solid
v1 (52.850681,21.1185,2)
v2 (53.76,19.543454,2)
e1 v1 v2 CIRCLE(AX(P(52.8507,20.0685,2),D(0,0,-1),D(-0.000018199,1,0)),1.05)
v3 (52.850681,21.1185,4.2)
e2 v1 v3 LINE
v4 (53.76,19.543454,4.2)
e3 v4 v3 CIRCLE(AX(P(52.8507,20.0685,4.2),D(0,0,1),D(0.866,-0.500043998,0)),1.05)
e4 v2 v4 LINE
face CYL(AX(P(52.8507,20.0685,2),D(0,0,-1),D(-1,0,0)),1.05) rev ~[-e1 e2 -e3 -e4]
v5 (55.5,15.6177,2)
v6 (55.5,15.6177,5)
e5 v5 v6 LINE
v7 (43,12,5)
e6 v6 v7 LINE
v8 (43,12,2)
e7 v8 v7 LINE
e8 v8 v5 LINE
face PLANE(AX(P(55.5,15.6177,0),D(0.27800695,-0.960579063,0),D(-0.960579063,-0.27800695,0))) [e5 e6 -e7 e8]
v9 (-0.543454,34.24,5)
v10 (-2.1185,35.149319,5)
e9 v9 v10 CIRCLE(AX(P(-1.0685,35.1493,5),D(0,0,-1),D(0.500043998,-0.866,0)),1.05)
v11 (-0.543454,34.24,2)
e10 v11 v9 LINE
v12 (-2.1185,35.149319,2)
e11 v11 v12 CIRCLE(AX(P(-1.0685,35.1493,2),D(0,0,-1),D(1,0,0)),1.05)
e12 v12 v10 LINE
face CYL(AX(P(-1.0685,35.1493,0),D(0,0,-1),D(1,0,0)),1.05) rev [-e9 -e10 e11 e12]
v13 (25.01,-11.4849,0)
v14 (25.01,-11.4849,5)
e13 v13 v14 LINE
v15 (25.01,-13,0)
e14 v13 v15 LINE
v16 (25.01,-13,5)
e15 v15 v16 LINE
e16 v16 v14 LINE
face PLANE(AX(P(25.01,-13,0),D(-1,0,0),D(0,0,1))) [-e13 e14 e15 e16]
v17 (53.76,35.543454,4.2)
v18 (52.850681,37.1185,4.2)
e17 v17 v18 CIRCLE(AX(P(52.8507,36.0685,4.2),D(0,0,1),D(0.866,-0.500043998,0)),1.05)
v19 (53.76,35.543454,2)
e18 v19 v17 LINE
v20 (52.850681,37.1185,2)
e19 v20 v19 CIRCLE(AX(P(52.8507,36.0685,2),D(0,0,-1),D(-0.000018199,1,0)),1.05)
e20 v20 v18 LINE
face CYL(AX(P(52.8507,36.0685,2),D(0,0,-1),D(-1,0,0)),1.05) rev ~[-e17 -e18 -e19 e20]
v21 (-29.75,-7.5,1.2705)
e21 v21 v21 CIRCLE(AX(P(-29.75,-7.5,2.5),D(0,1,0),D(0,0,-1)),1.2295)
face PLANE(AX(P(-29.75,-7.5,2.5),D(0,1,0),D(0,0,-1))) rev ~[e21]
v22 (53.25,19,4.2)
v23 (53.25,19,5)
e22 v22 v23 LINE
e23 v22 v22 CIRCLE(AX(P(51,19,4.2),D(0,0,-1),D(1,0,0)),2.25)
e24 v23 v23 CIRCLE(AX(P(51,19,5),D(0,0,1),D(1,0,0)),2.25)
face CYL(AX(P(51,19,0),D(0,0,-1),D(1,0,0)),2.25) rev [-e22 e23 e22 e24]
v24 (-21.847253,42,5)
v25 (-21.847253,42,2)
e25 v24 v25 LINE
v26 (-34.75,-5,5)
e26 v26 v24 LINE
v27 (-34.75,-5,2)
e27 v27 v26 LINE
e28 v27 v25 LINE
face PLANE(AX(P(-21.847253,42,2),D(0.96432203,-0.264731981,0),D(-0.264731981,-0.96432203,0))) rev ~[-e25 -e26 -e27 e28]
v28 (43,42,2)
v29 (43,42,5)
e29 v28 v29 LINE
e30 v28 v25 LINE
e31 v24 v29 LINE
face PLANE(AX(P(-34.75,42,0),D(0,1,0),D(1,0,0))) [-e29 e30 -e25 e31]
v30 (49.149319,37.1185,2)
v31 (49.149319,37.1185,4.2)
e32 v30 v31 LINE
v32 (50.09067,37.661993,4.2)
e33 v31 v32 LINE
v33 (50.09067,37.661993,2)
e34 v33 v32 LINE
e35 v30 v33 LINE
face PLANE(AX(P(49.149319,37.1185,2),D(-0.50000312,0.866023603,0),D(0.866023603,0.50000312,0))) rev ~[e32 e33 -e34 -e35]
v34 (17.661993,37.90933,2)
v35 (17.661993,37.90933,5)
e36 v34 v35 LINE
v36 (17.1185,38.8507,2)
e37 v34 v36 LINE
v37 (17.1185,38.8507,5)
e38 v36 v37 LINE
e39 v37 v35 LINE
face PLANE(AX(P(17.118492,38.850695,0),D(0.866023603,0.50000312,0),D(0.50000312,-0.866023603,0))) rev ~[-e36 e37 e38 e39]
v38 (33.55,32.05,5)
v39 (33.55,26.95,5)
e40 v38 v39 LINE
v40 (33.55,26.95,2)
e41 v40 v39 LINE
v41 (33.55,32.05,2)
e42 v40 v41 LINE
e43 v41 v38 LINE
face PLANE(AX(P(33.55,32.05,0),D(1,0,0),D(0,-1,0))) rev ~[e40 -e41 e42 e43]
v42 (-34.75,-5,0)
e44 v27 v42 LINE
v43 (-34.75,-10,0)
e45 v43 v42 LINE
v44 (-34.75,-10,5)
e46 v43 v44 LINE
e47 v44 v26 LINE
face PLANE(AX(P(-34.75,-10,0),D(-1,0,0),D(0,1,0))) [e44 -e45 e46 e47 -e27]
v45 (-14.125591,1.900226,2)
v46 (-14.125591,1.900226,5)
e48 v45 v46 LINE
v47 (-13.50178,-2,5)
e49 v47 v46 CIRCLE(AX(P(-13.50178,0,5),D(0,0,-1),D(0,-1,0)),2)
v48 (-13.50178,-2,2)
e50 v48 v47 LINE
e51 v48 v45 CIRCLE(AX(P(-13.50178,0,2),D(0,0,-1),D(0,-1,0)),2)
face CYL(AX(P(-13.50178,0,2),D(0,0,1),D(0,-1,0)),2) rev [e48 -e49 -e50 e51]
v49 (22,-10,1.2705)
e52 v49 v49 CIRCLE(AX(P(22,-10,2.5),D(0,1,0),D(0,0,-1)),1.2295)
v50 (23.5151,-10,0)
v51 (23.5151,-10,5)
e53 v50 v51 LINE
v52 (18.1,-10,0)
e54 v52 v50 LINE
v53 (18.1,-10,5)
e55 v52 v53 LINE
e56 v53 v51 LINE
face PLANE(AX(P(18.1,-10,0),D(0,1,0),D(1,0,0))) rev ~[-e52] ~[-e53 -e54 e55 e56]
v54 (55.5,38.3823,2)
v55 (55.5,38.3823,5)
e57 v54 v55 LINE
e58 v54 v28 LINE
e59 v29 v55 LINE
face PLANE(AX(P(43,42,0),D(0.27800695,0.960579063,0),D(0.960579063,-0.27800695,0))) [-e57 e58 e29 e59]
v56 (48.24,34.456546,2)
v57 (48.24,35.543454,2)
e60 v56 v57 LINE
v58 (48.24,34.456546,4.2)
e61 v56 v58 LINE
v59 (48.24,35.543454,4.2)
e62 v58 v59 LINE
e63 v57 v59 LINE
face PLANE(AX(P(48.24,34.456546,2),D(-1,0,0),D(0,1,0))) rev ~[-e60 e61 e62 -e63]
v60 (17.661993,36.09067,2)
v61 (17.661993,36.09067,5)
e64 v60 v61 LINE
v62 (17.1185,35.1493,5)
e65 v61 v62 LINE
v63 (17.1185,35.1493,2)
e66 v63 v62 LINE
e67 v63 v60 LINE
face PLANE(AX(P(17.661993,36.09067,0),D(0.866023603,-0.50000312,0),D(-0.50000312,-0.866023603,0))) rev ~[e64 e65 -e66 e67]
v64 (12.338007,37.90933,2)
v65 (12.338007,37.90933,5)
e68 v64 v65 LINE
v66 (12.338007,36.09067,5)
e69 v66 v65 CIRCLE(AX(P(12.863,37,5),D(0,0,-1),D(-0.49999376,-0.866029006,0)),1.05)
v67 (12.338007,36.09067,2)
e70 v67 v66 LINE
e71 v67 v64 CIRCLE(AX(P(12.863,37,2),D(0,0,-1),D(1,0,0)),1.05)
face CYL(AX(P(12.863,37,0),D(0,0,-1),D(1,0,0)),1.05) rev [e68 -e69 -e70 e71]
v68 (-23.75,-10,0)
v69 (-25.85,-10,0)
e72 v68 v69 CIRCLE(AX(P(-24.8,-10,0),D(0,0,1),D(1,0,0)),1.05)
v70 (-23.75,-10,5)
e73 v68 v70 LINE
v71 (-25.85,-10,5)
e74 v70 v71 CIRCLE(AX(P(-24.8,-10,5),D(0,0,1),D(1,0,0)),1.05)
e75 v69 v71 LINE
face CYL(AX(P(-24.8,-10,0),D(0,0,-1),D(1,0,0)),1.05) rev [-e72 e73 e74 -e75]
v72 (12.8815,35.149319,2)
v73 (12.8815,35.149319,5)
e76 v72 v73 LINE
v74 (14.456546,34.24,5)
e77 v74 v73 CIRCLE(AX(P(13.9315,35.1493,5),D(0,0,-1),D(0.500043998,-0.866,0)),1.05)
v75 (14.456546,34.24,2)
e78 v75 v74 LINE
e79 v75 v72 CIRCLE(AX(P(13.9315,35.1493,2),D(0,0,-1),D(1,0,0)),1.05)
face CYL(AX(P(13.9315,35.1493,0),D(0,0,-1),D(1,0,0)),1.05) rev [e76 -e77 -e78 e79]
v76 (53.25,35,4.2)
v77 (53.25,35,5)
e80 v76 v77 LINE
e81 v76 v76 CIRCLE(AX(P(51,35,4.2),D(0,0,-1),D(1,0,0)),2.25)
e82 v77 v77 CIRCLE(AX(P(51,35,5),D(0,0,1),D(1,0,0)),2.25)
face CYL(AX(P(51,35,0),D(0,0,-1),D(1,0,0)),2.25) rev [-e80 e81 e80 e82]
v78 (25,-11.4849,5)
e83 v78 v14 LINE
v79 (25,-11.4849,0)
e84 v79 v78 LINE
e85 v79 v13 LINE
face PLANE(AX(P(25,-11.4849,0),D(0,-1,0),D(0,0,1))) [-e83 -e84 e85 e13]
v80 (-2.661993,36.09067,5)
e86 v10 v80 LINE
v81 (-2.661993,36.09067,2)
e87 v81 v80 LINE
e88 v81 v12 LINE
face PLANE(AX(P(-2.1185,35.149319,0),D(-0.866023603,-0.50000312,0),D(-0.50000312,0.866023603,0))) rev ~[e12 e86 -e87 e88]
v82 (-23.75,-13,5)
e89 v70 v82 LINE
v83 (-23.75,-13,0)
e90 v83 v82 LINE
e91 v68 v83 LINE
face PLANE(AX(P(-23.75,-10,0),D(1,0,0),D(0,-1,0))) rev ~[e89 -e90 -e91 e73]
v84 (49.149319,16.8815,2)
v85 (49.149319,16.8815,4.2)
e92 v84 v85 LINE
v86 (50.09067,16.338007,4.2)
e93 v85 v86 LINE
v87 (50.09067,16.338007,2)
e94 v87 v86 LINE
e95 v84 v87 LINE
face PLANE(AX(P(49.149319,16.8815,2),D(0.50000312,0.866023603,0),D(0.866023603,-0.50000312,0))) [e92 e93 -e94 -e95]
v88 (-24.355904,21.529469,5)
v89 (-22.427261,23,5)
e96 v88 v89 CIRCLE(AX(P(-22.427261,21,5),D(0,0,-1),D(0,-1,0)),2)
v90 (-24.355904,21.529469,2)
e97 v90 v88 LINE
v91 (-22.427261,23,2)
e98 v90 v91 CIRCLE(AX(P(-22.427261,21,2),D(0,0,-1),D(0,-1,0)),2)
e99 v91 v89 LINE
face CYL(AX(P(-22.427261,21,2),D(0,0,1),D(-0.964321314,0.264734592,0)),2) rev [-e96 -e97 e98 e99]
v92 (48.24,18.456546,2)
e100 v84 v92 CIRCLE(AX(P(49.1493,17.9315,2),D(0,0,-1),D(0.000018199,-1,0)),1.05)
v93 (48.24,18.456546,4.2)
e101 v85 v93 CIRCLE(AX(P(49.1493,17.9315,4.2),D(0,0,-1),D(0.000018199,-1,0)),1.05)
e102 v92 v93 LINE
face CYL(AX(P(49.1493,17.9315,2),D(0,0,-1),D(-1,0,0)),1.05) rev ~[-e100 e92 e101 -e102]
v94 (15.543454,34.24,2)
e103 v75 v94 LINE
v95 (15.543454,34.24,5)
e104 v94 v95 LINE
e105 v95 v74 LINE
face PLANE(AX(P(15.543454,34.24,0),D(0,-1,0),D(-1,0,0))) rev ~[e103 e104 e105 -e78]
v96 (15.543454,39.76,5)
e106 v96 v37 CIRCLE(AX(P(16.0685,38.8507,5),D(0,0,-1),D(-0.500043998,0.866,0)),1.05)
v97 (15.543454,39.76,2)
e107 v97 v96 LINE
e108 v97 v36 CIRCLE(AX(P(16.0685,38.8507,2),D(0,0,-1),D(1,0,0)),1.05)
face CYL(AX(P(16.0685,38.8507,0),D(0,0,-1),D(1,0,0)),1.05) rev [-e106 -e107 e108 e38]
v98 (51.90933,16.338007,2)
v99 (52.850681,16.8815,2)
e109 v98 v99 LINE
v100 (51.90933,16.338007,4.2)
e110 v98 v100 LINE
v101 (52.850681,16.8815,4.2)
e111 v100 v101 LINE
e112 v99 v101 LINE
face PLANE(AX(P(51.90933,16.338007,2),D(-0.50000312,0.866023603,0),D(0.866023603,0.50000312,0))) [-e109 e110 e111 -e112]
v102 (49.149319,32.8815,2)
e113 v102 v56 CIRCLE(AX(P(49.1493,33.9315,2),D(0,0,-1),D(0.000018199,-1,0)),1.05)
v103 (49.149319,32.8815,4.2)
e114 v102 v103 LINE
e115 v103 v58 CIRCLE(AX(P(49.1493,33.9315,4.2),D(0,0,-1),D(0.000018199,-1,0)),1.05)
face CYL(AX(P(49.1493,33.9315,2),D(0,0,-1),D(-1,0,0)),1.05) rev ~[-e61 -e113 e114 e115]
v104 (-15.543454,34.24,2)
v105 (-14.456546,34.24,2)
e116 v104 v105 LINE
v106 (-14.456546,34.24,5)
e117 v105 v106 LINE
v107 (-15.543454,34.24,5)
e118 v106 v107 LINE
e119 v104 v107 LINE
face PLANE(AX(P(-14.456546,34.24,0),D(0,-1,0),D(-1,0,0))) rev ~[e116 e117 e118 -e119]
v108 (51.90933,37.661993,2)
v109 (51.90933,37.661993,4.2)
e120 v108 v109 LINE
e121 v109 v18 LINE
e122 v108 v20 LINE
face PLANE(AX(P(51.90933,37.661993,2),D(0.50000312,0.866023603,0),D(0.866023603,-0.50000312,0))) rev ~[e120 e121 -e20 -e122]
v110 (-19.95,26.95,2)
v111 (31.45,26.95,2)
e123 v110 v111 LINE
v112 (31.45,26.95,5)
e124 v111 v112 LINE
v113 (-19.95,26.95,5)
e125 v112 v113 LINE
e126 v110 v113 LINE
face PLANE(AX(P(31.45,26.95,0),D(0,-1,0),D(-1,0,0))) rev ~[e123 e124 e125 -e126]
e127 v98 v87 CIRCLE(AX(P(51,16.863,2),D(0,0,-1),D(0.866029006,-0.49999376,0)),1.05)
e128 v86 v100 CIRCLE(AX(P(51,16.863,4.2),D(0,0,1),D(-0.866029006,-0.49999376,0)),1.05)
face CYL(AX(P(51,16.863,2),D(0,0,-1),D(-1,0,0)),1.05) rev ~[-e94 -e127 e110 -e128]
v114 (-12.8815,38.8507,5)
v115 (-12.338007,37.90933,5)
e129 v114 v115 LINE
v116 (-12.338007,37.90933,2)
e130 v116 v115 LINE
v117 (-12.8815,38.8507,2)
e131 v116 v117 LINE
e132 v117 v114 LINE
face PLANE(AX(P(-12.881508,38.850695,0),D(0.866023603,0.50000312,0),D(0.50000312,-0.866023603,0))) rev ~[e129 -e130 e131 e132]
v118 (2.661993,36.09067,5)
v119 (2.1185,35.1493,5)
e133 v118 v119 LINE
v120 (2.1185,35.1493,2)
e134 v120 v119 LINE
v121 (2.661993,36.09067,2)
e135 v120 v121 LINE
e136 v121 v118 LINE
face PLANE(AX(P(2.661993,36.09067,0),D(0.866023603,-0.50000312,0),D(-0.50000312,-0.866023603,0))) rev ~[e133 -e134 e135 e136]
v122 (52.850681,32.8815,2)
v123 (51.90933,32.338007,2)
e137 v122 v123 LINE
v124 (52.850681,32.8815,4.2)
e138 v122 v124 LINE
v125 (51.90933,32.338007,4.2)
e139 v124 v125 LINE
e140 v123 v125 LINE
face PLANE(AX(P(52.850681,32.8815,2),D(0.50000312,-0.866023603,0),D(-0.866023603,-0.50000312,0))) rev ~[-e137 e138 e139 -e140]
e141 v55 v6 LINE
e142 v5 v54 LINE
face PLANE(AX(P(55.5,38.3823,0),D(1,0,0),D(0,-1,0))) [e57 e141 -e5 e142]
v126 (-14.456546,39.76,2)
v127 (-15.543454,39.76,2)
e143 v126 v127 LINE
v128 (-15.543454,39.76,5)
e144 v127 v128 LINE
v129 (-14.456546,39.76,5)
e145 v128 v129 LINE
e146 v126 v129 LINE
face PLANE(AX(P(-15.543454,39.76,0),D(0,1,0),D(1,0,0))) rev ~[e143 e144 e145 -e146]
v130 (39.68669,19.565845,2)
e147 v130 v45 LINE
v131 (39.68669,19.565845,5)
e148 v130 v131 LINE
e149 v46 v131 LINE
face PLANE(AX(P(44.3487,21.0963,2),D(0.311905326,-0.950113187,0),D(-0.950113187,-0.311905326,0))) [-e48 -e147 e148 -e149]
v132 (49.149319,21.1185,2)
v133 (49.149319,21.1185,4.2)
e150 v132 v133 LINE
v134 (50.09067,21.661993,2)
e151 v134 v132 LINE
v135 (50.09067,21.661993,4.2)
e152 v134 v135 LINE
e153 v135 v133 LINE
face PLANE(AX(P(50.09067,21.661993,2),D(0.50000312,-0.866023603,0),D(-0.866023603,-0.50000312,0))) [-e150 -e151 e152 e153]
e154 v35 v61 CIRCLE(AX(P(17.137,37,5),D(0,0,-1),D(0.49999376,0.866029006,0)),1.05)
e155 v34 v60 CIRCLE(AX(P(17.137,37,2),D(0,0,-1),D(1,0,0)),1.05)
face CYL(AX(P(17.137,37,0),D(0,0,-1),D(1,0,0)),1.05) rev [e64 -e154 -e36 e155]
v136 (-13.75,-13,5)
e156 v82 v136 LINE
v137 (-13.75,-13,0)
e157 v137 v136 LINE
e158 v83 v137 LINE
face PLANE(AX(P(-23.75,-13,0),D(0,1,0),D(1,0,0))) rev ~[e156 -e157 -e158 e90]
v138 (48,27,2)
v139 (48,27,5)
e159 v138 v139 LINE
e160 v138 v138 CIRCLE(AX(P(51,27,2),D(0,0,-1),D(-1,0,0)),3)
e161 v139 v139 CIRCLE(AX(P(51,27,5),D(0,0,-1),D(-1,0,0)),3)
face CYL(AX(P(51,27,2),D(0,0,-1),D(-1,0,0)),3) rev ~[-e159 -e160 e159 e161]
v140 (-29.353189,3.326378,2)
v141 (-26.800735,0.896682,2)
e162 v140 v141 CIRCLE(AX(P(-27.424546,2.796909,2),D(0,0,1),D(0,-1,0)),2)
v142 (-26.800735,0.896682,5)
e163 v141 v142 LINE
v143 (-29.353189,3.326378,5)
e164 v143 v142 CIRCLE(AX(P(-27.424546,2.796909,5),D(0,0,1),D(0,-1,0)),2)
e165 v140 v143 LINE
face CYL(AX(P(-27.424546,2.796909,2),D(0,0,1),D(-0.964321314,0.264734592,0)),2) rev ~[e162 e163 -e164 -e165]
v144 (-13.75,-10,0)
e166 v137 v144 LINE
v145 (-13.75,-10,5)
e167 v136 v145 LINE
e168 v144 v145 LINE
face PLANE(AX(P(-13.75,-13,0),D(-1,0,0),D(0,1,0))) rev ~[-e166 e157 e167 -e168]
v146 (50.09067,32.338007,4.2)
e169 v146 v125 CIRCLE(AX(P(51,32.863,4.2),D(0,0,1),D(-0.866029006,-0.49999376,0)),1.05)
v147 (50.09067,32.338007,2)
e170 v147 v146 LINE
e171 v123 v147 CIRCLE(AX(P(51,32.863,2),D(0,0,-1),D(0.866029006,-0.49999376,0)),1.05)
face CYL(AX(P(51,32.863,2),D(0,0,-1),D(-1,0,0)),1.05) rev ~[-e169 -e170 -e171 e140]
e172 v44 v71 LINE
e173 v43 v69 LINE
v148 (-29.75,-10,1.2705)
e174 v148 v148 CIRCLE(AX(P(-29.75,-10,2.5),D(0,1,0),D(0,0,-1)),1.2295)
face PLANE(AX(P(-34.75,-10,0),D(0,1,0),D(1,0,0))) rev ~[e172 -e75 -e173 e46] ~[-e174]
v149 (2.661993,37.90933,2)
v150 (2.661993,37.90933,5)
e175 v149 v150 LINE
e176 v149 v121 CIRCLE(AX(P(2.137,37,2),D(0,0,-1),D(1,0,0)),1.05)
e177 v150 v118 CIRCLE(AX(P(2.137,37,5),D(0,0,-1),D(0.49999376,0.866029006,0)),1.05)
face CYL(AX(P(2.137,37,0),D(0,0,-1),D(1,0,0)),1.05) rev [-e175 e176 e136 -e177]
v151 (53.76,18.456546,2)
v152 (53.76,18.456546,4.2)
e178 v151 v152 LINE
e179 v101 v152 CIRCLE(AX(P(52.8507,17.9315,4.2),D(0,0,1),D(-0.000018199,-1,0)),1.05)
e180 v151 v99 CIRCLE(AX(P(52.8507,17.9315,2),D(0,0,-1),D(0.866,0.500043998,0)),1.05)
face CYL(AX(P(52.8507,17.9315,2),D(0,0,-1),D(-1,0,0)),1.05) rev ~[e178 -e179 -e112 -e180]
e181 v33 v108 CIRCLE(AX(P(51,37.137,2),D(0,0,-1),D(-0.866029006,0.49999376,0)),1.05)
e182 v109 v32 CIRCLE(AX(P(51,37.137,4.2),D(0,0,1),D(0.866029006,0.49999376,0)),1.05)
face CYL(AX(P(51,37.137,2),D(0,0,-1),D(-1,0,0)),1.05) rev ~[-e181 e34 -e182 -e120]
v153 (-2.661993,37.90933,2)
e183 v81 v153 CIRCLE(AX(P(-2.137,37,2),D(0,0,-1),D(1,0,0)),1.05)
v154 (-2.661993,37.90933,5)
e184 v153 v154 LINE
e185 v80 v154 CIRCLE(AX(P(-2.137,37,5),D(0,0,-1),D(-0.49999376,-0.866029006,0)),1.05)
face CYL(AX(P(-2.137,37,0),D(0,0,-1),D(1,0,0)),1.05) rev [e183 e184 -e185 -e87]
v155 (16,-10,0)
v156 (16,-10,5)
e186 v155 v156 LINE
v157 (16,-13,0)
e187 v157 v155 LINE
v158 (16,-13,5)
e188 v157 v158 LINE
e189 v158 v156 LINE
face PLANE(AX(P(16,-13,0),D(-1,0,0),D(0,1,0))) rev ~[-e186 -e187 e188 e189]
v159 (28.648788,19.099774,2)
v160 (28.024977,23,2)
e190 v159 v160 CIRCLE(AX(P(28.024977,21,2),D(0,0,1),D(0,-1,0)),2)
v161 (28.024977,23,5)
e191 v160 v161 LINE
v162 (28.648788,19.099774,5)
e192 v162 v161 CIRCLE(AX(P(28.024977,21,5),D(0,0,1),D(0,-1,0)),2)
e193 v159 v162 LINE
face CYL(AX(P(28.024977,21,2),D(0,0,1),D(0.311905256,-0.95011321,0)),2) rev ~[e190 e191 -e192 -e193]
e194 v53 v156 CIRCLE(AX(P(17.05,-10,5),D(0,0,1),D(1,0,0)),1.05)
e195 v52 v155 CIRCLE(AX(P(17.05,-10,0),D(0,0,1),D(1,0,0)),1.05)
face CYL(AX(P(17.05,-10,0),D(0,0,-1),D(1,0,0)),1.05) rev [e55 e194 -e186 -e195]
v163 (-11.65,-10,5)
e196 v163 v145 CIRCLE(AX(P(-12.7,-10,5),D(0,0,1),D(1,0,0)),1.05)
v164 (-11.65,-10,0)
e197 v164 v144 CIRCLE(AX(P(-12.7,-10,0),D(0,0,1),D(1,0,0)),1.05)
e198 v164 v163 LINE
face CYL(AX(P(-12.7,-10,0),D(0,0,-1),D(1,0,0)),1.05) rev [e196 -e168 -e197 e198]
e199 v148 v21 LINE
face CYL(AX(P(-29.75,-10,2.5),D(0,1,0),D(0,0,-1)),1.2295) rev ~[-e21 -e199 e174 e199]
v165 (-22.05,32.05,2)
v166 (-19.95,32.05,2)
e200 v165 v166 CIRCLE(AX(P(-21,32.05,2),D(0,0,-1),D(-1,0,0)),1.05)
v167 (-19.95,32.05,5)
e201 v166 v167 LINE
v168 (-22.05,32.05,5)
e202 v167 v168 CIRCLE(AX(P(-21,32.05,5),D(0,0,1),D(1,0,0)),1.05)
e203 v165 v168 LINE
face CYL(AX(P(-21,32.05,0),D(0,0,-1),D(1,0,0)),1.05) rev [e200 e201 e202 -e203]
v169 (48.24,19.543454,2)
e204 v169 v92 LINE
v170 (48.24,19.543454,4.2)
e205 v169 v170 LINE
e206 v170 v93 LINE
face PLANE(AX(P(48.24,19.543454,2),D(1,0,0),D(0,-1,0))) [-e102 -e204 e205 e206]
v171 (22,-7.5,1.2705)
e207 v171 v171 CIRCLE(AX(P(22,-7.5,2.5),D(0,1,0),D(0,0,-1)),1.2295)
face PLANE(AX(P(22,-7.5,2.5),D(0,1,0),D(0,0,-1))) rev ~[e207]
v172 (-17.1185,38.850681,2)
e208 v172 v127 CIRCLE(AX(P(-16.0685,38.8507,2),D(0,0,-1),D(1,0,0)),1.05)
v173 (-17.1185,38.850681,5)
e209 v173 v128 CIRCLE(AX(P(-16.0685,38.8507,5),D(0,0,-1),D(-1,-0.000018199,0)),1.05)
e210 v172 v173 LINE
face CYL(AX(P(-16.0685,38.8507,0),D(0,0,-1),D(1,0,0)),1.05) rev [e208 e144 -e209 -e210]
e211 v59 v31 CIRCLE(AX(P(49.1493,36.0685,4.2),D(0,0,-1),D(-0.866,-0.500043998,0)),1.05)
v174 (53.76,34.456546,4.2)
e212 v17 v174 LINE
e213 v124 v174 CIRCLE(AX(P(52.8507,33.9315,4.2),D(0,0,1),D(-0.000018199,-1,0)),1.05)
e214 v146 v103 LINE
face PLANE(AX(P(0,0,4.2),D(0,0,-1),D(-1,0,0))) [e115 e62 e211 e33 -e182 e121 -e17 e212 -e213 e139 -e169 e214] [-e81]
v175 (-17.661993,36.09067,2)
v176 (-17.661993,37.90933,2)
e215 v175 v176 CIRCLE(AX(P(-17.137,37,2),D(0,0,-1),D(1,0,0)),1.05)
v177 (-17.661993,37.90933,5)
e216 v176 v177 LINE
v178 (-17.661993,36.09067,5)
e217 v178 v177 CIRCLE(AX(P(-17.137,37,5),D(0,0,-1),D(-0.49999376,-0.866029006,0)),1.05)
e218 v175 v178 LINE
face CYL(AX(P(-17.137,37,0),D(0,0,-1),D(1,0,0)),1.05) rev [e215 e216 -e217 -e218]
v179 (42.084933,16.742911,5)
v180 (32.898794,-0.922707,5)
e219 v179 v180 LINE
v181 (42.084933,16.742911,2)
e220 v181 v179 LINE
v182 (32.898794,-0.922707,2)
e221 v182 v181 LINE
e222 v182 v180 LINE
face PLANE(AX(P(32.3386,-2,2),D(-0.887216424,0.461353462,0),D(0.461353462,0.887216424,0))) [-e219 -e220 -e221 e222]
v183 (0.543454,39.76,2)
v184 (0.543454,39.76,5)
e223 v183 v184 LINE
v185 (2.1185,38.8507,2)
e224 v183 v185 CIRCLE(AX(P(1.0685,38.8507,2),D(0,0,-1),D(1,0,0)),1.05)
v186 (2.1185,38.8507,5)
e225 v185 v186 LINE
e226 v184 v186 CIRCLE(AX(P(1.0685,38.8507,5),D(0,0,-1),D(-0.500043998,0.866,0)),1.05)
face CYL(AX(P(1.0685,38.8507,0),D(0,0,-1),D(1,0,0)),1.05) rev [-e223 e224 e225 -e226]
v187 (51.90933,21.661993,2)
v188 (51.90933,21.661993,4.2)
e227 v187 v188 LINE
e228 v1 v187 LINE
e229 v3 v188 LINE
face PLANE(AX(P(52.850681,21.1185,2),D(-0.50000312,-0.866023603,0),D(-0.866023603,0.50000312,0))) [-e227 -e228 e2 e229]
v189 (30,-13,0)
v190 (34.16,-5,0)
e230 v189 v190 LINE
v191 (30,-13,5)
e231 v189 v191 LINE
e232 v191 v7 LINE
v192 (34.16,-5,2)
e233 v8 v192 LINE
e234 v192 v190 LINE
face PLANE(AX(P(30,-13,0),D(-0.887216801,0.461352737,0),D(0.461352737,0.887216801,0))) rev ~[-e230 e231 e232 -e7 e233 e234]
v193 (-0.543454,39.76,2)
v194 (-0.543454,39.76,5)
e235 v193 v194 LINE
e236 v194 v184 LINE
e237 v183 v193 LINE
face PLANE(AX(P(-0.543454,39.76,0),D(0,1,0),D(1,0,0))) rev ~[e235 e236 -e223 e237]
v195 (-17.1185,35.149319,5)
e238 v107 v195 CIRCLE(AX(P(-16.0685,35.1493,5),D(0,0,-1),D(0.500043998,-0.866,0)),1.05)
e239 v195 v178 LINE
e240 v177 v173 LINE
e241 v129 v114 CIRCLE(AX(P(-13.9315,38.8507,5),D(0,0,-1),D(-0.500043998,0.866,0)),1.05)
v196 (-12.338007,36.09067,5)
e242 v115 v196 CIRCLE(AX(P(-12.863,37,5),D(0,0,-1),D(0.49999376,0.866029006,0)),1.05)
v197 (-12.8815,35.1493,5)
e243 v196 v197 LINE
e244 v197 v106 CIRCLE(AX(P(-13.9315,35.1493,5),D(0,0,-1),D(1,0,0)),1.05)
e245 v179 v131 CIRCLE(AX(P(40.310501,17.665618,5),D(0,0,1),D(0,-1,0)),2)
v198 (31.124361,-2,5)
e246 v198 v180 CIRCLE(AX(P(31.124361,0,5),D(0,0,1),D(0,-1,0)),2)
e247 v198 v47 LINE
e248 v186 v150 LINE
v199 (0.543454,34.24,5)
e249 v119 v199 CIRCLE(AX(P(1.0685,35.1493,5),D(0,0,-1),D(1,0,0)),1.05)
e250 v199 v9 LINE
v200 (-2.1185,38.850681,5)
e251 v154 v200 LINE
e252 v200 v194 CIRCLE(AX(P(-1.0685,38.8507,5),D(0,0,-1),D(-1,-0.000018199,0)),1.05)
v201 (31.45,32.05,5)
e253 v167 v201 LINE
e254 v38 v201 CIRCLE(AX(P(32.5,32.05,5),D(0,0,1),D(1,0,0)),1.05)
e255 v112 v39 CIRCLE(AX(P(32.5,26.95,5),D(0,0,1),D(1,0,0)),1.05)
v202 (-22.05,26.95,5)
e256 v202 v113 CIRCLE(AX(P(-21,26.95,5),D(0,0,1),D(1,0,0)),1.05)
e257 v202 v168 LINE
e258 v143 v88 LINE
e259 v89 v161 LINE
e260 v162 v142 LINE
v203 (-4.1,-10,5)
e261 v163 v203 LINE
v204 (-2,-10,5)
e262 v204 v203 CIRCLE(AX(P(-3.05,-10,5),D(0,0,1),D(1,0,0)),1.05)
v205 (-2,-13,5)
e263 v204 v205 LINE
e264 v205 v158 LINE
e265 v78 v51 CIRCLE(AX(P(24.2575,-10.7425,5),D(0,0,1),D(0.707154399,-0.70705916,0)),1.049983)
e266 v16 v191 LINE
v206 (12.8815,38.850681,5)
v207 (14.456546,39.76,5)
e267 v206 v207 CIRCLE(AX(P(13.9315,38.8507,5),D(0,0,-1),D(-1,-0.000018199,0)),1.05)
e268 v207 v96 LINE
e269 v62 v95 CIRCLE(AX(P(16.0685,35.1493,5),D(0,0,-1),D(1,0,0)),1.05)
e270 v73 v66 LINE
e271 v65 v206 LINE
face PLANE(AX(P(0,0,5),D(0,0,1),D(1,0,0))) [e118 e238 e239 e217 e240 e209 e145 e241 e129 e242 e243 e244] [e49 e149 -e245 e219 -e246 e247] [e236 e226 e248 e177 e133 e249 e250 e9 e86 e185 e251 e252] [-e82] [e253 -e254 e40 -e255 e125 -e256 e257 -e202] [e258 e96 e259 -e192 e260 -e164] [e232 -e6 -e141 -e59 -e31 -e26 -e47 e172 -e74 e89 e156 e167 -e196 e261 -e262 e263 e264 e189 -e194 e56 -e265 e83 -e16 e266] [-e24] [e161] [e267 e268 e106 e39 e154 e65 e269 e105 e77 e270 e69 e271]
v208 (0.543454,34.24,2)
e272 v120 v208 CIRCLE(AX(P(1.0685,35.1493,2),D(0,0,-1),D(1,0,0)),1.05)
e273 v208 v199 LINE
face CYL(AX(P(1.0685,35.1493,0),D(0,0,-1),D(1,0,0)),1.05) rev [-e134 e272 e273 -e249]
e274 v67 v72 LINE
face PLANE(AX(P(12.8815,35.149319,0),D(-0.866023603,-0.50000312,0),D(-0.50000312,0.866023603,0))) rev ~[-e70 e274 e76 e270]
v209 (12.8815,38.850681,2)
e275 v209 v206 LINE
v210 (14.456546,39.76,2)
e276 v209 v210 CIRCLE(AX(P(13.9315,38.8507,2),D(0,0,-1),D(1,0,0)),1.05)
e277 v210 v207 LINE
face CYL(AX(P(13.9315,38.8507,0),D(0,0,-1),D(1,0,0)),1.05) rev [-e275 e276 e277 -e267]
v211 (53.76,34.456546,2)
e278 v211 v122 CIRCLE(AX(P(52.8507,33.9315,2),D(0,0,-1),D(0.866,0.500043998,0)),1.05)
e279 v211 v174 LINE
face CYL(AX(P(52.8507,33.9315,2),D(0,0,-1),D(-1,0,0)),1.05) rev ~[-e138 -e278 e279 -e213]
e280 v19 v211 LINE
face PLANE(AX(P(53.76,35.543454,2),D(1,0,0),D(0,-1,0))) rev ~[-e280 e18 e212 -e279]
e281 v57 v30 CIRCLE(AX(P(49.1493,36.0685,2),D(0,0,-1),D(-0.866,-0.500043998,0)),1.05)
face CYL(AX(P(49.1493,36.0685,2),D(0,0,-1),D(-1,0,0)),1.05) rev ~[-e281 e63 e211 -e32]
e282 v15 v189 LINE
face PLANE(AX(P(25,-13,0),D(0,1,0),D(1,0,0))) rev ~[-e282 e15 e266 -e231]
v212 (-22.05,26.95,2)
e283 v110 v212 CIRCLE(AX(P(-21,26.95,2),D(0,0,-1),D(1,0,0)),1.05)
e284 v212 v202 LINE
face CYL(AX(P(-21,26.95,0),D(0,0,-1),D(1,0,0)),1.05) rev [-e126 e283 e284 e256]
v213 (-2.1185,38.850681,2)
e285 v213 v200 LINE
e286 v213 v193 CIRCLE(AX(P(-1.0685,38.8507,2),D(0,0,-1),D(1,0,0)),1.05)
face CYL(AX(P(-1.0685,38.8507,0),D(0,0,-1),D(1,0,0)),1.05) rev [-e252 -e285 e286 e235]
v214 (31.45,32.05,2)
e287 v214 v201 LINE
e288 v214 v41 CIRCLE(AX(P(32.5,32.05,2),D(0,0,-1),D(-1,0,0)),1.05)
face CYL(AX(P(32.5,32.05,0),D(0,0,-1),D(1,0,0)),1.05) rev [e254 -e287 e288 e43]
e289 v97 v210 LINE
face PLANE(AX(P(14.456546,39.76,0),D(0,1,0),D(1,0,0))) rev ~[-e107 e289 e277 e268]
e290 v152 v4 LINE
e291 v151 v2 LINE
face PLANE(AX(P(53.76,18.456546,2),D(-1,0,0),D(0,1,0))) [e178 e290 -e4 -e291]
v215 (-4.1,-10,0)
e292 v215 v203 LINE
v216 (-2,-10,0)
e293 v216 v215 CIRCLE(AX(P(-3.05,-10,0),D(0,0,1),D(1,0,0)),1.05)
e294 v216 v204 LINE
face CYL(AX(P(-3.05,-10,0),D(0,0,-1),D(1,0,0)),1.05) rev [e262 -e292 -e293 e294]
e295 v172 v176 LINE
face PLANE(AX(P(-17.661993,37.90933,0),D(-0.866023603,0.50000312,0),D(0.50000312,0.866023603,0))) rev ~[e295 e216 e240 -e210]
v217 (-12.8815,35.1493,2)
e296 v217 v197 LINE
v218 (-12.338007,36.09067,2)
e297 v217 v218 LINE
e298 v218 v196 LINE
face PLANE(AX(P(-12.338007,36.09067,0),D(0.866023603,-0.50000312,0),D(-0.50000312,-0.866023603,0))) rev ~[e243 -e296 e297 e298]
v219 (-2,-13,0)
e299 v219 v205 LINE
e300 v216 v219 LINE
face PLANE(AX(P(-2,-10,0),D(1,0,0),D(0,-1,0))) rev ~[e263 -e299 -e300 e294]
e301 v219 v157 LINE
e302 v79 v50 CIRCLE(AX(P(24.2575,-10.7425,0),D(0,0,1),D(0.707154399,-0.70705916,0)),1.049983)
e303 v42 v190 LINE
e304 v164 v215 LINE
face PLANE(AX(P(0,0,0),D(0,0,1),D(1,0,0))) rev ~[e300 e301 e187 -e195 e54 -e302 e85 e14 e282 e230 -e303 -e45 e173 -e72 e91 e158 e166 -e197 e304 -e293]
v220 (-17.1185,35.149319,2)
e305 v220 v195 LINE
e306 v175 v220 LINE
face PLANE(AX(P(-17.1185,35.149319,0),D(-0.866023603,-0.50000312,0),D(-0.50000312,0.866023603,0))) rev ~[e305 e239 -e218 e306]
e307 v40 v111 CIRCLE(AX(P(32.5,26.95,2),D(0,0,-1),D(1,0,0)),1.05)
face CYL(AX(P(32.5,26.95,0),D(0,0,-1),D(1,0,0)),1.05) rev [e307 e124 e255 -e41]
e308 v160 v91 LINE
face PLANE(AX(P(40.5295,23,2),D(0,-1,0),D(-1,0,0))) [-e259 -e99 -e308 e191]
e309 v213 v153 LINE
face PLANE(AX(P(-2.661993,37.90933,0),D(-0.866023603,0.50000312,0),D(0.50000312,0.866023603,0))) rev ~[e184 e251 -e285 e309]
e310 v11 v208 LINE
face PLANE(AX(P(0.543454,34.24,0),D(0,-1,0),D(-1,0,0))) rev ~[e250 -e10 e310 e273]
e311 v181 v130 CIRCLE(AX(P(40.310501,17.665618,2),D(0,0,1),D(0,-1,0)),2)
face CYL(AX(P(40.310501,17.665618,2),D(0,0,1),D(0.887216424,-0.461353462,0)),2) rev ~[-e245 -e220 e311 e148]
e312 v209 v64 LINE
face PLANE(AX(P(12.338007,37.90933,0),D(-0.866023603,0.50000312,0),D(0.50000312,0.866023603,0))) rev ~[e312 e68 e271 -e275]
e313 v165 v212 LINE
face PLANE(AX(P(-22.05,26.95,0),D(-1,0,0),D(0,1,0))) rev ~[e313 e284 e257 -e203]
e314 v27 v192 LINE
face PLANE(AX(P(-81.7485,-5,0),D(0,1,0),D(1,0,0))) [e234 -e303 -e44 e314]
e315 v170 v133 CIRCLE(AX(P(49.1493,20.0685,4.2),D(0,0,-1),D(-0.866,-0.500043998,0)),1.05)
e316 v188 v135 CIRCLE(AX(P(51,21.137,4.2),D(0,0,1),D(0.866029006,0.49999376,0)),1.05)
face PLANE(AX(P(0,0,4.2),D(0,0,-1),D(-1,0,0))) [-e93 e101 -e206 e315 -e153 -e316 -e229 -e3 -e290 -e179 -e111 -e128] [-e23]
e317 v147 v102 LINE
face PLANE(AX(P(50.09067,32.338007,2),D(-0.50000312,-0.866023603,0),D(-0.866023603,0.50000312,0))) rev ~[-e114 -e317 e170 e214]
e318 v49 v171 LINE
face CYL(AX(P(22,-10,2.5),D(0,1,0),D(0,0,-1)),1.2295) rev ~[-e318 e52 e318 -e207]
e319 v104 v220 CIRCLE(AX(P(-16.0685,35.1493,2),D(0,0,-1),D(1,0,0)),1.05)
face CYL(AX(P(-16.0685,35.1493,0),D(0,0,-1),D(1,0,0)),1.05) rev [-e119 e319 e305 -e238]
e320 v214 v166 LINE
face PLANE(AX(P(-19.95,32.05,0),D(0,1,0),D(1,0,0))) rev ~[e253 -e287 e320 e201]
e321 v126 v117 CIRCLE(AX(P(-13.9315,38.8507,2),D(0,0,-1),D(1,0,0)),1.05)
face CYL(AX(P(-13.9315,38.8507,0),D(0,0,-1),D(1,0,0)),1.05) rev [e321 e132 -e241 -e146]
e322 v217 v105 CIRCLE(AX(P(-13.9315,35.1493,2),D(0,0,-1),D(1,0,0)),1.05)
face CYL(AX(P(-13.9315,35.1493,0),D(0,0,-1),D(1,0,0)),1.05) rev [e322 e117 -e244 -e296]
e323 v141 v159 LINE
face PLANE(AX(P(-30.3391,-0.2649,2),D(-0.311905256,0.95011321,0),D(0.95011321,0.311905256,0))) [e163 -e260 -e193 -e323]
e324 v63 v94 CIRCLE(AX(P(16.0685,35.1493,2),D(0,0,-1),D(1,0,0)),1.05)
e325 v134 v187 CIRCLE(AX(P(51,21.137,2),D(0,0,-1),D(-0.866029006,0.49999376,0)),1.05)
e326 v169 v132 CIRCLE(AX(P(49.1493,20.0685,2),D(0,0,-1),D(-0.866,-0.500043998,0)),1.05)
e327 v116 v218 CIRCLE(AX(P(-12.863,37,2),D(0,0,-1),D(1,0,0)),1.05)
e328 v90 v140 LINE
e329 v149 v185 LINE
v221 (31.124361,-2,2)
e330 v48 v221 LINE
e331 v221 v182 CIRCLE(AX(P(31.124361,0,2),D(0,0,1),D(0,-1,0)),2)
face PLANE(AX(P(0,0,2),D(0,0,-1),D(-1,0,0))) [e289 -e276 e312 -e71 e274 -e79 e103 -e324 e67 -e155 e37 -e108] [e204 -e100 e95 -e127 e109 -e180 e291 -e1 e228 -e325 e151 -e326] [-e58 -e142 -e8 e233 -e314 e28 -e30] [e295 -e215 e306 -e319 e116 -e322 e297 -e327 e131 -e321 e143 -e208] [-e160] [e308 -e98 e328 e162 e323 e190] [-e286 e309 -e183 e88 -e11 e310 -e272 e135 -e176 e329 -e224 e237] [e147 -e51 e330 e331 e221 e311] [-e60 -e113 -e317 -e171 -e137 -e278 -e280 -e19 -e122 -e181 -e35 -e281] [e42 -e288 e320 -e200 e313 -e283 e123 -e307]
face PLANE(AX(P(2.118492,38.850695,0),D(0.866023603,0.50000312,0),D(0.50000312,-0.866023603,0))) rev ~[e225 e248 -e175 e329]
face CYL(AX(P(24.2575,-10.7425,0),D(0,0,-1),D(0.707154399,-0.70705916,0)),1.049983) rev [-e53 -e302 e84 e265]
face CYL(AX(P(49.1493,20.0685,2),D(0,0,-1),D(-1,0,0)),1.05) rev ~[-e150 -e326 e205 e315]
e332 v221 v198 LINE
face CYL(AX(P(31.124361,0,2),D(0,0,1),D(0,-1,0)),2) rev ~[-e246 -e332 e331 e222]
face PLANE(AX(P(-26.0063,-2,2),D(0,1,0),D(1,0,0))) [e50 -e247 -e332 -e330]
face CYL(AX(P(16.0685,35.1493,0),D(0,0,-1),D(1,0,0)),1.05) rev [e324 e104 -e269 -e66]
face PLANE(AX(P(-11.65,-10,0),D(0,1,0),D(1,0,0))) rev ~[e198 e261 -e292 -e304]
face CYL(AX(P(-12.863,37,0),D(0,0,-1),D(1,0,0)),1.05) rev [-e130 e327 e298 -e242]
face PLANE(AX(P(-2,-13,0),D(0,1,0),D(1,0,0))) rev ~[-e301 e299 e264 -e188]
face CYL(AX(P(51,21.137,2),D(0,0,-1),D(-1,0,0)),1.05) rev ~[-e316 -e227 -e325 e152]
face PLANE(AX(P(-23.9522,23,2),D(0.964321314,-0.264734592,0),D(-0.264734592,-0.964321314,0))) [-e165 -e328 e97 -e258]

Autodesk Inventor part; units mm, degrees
ref_plane "YZ Plane" through (0, 0, 0) normal (1, 0, 0) x (0, 1, 0)
ref_plane "XZ Plane" through (0, 0, 0) normal (0, 1, 0) x (-1, 0, 0)
ref_plane "XY Plane" through (0, 0, 0) normal (0, 0, 1) x (1, 0, 0)
sketch "スケッチ1" plane through (0, 0, 0) normal (0, 0, 1) x (1, 0, 0)
  line L0 (-34.75, -10) -> (23.5151, -10) construction
  arc A0 (25, -11.4849) -> (23.5151, -10) centre (24.2575, -10.7425) ccw
  line L1 (25, -11.4849) -> (25, -13)
  line L2 (25, -13) -> (30, -13)
  line L3 (23.5151, -10) -> (25, -10) construction
  line L4 (25, -10) -> (25, -11.4849) construction
  line L5 (-34.75, -10) -> (-34.75, 42)
  line L6 (-34.75, 42) -> (43, 42)
  circle A1 centre (-15, 37) radius 1.2
  circle A2 centre (15, 37) radius 1.2
  line L7 (0, 30.2) -> (0, 0) construction
  line L8 (30, -13) -> (43, 12)
  line L9 (43, 12) -> (43, 42)
  line L10 (-22.05, 32.05) -> (33.55, 32.05)
  line L11 (33.55, 32.05) -> (33.55, 26.95)
  line L12 (33.55, 26.95) -> (-22.05, 26.95)
  line L13 (-22.05, 26.95) -> (-22.05, 32.05)
  line L14 (33.5, 32) -> (-22, 32) construction
  line L15 (-22, 32) -> (-22, 27) construction
  line L16 (-22, 27) -> (33.5, 27) construction
  line L17 (33.5, 27) -> (33.5, 32) construction
  circle A3 centre (-21, 32.05) radius 1.05
  circle A4 centre (-21, 26.95) radius 1.05
  circle A5 centre (32.5, 32.05) radius 1.05
  circle A6 centre (32.5, 26.95) radius 1.05
  line L18 (-34.75, -10) -> (-25.85, -10)
  arc A7 (-23.75, -10) -> (-25.85, -10) centre (-24.8, -10) ccw
  line L19 (-23.75, -10) -> (-23.75, -13)
  line L20 (-23.75, -13) -> (-13.75, -13)
  line L21 (-13.75, -13) -> (-13.75, -10)
  arc A8 (-11.65, -10) -> (-13.75, -10) centre (-12.7, -10) ccw
  line L22 (-11.65, -10) -> (-4.1, -10)
  arc A9 (-2, -10) -> (-4.1, -10) centre (-3.05, -10) ccw
  line L23 (-2, -10) -> (-2, -13)
  line L24 (-2, -13) -> (16, -13)
  line L25 (16, -13) -> (16, -10)
  arc A10 (18.1, -10) -> (16, -10) centre (17.05, -10) ccw
  line L26 (18.1, -10) -> (23.5151, -10)
  line L27 (20.45, -6.1712) -> (23.55, -6.1712) construction
  line L28 (23.55, -6.1712) -> (23.55, -12.9737) construction
  line L29 (23.55, -12.9737) -> (20.45, -12.9737) construction
  line L30 (20.45, -12.9737) -> (20.45, -6.1712) construction
  line L31 (-31.3, -5.7897) -> (-28.2, -5.7897) construction
  line L32 (-28.2, -5.7897) -> (-28.2, -15) construction
  line L33 (-28.2, -15) -> (-31.3, -15) construction
  line L34 (-31.3, -15) -> (-31.3, -5.7897) construction
  line L35 (-29.75, -5.7897) -> (-29.75, -15) construction
  line L36 (22, -6.1712) -> (22, -12.9737) construction
  line L37 (43, 42) -> (55.5, 38.3823)
  line L38 (55.5, 38.3823) -> (55.5, 15.6177)
  line L39 (55.5, 15.6177) -> (43, 12)
  circle A11 centre (51, 35) radius 2.25
  circle A12 centre (51, 19) radius 2.25
  circle A13 centre (51, 35) radius 4.5 construction
  circle A14 centre (51, 19) radius 4.5 construction
  line L40 (51, 35) -> (51, 19) construction
  line L41 (-13.4065, 34.24) -> (-16.5935, 34.24)
  line L42 (-16.5935, 34.24) -> (-18.187, 37)
  line L43 (-18.187, 37) -> (-16.5935, 39.76)
  line L44 (-16.5935, 39.76) -> (-13.4065, 39.76)
  line L45 (-13.4065, 39.76) -> (-11.813, 37)
  line L46 (-11.813, 37) -> (-13.4065, 34.24)
  circle A15 centre (-17.137, 37) radius 1.05
  circle A16 centre (-16.0685, 35.1493) radius 1.05
  circle A17 centre (-13.9315, 35.1493) radius 1.05
  circle A18 centre (-12.863, 37) radius 1.05
  circle A19 centre (-13.9315, 38.8507) radius 1.05
  circle A20 centre (-16.0685, 38.8507) radius 1.05
  line L47 (18.187, 37) -> (16.5935, 34.24)
  line L48 (16.5935, 34.24) -> (13.4065, 34.24)
  line L49 (13.4065, 34.24) -> (11.813, 37)
  line L50 (11.813, 37) -> (13.4065, 39.76)
  line L51 (13.4065, 39.76) -> (16.5935, 39.76)
  line L52 (16.5935, 39.76) -> (18.187, 37)
  circle A21 centre (12.863, 37) radius 1.05
  circle A22 centre (13.9315, 35.1493) radius 1.05
  circle A23 centre (16.0685, 35.1493) radius 1.05
  circle A24 centre (17.137, 37) radius 1.05
  circle A25 centre (16.0685, 38.8507) radius 1.05
  circle A26 centre (13.9315, 38.8507) radius 1.05
  line L53 (1.5935, 34.24) -> (-1.5935, 34.24)
  line L54 (-1.5935, 34.24) -> (-3.187, 37)
  line L55 (-3.187, 37) -> (-1.5935, 39.76)
  line L56 (-1.5935, 39.76) -> (1.5935, 39.76)
  line L57 (1.5935, 39.76) -> (3.187, 37)
  line L58 (3.187, 37) -> (1.5935, 34.24)
  circle A27 centre (-2.137, 37) radius 1.05
  circle A28 centre (-1.0685, 35.1493) radius 1.05
  circle A29 centre (1.0685, 35.1493) radius 1.05
  circle A30 centre (2.137, 37) radius 1.05
  circle A31 centre (1.0685, 38.8507) radius 1.05
  circle A32 centre (-1.0685, 38.8507) radius 1.05
  line L59 (51, 38.1754) -> (53.75, 36.5877)
  line L60 (53.75, 36.5877) -> (53.75, 33.4123)
  line L61 (53.75, 33.4123) -> (51, 31.8246)
  line L62 (51, 31.8246) -> (48.25, 33.4123)
  line L63 (48.25, 33.4123) -> (48.25, 36.5877)
  line L64 (48.25, 36.5877) -> (51, 38.1754)
  point P0 (43, 27)
  point P1 (55.5, 27)
  point P2 (-16.5935, 34.24)
  point P3 (-13.4065, 34.24)
  point P4 (-11.813, 37)
  point P5 (-13.4065, 39.76)
  point P6 (-16.5935, 39.76)
  point P7 (16.5935, 39.76)
  point P8 (13.4065, 39.76)
  point P9 (0, 37)
  point P10 (1.5935, 39.76)
  point P11 (-1.5935, 39.76)
  dimension "d110" = 2.1
  dimension "d201" = 2.1
  dimension "d42" = 2.4
  dimension "d44" = 15
  dimension "d90" = 5
  dimension "d91" = 59.75
  dimension "d92" = 1.05
  dimension "d93" = 25
  dimension "d95" = 3
  dimension "d96" = 10
  dimension "d97" = 43
  dimension "d98" = 30
  dimension "d99" = 52
  dimension "d100" = 37
  dimension "d104" = 55.5
  dimension "d105" = 0.05
  dimension "d106" = 22
  dimension "d107" = 42
  dimension "d109" = 5
  dimension "d111" = 1.05
  dimension "d113" = 51.75
  dimension "d114" = 3
  dimension "d115" = 3.1
  dimension "d116" = 6
  dimension "d117" = 6
  dimension "d118" = 10
  dimension "d119" = 18
  dimension "d120" = 3
  dimension "d184" = 4.5
  dimension "d186" = 16
  dimension "d200" = 5.52
  dimension "d204" = 360
  dimension "d208" = 360
  dimension "d212" = 360
  dimension "d214" = 15
  dimension "d216" = 5.5
  dimension "d217" = 9
  dimension "d218" = 8
  dimension "d241" = 5
  dimension "d242" = 5
extrude "押し出し1" add sketch "スケッチ1" along normal blind 5 contours A0 L26 A10 L25 L24 L23 A9 L22 A8 L21 L20 L19 A7 L18 L5 L6 L9 L8 L2 L1 | L9 L37 L38 L39 | L59 L60 L61 L62 L63 L64
sketch "スケッチ2" plane through (-34.75, -10, 0) normal (0, -1, 0) x (1, 0, 0)
  line L0 (0, 0) -> (0, 5)
  line L1 (8.9, 0) -> (8.9, 5) projected
  line L2 (0, 0) -> (0, 5) projected
  line L3 (59.75, 0) -> (59.75, 5) projected
  point P0 (56.75, 2.5)
  point P1 (0, 2.5)
  point P2 (5, 2.5)
  point P3 (8.9, 2.5)
  dimension "d72" = 51.75
  dimension "d112" = 3
hole "穴1" at (22, -10, 2.5) at (-29.75, -10, 2.5) direction (0, 1, 0) diameter 2.459 depth 2.5 thread size "M3x0.5" class "6H" standard "ISO Metric profile"
sketch "スケッチ9" plane through (0, 0, 0) normal (0, 0, -1) x (-1, 0, 0)
  line L0 (-18.1, -10) -> (-23.5151, -10) projected
  line L1 (19.95, 26.95) -> (-31.45, 26.95) projected
  arc A0 (-33.55, 26.95) -> (-31.45, 26.95) centre (-32.5, 26.95) ccw projected
  line L2 (-33.55, 26.95) -> (-33.55, 32.05) projected
  arc A1 (-31.45, 32.05) -> (-33.55, 32.05) centre (-32.5, 32.05) ccw projected
  line L3 (-31.45, 32.05) -> (19.95, 32.05) projected
  arc A2 (22.05, 32.05) -> (19.95, 32.05) centre (21, 32.05) ccw projected
  line L4 (22.05, 32.05) -> (22.05, 26.95) projected
  arc A3 (19.95, 26.95) -> (22.05, 26.95) centre (21, 26.95) ccw projected
  circle A4 centre (-10, 36) radius 1.2 projected
  circle A5 centre (10, 36) radius 1.2 projected
  circle A6 centre (-51, 19) radius 2.25 projected
  circle A7 centre (-51, 35) radius 2.25 projected
  line L5 (-67.988, 57.9937) -> (81.7485, 57.9937)
  line L6 (81.7485, 57.9937) -> (81.7485, -5)
  line L7 (81.7485, -5) -> (-67.988, -5)
  line L8 (-67.988, -5) -> (-67.988, 57.9937)
  point P0 (0, 0)
  dimension "d197" = 5
extrude "押し出し5" cut sketch "スケッチ9" against normal blind 2 contours A4 | A5 | L5 L6 L7 L8
sketch "スケッチ10" plane through (0, 0, 2) normal (0, 0, -1) x (-1, 0, 0)
  line L0 (-55.5, 15.6177) -> (-55.5, 38.3823) projected
  circle A0 centre (-51, 19) radius 2.25 projected
  circle A1 centre (-51, 35) radius 2.25 projected
  line L1 (-48.25, 33.4123) -> (-51, 31.8246)
  line L2 (-51, 31.8246) -> (-53.75, 33.4123)
  line L3 (-53.75, 33.4123) -> (-53.75, 36.5877)
  line L4 (-53.75, 36.5877) -> (-51, 38.1754)
  line L5 (-51, 38.1754) -> (-48.25, 36.5877)
  line L6 (-48.25, 36.5877) -> (-48.25, 33.4123)
  line L7 (-51, 38.187) -> (-53.76, 36.5935)
  line L8 (-53.76, 36.5935) -> (-53.76, 33.4065)
  line L9 (-53.76, 33.4065) -> (-51, 31.813)
  line L10 (-51, 31.813) -> (-48.24, 33.4065)
  line L11 (-48.24, 33.4065) -> (-48.24, 36.5935)
  line L12 (-48.24, 36.5935) -> (-51, 38.187)
  circle A2 centre (-51, 37.137) radius 1.05
  circle A3 centre (-52.8507, 36.0685) radius 1.05
  circle A4 centre (-52.8507, 33.9315) radius 1.05
  circle A5 centre (-51, 32.863) radius 1.05
  circle A6 centre (-49.1493, 33.9315) radius 1.05
  circle A7 centre (-49.1493, 36.0685) radius 1.05
  line L13 (-55.5, 27) -> (-40.5359, 27) construction
  line L14 (-55.5, 15.6177) -> (-43, 12)
  line L15 (-48.25, 20.5877) -> (-51, 22.1754)
  line L16 (-51, 22.1754) -> (-53.75, 20.5877)
  line L17 (-53.75, 20.5877) -> (-53.75, 17.4123)
  line L18 (-53.75, 17.4123) -> (-51, 15.8246)
  line L19 (-51, 15.8246) -> (-48.25, 17.4123)
  line L20 (-48.25, 17.4123) -> (-48.25, 20.5877)
  line L21 (-51, 15.813) -> (-53.76, 17.4065)
  line L22 (-53.76, 17.4065) -> (-53.76, 20.5935)
  line L23 (-53.76, 20.5935) -> (-51, 22.187)
  line L24 (-51, 22.187) -> (-48.24, 20.5935)
  line L25 (-48.24, 20.5935) -> (-48.24, 17.4065)
  line L26 (-48.24, 17.4065) -> (-51, 15.813)
  circle A8 centre (-51, 16.863) radius 1.05
  circle A9 centre (-52.8507, 17.9315) radius 1.05
  circle A10 centre (-52.8507, 20.0685) radius 1.05
  circle A11 centre (-51, 21.137) radius 1.05
  circle A12 centre (-49.1493, 20.0685) radius 1.05
  circle A13 centre (-49.1493, 17.9315) radius 1.05
  point P0 (0, 0)
  point P1 (-53.76, 36.5935)
  point P2 (-53.76, 33.4065)
  point P3 (-51, 31.813)
  point P4 (-48.24, 33.4065)
  point P5 (-48.24, 36.5935)
  point P6 (-51, 19)
  point P7 (-51, 19)
  point P8 (-53.76, 17.4065)
  point P9 (-53.76, 20.5935)
  point P10 (-51, 22.187)
  point P11 (-48.24, 20.5935)
  point P12 (-48.24, 17.4065)
  dimension "d219" = 2.1
  dimension "d215" = 5.5
  dimension "d220" = 0.01
  dimension "d223" = 360
extrude "押し出し6" cut sketch "スケッチ10" against normal blind 2.2
sketch "スケッチ11" plane through (0, 0, 2) normal (0, 0, -1) x (-1, 0, 0)
  line L0 (-34.16, -5) -> (-43, 12) projected
  line L1 (34.75, -5) -> (-34.16, -5) projected
  line L2 (-43, 42) -> (34.75, 42) projected
  line L3 (-55.5, 15.6177) -> (-55.5, 38.3823) projected
  arc A0 (19.95, 26.95) -> (22.05, 26.95) centre (21, 26.95) ccw projected
  line L4 (-31.45, 26.95) -> (19.95, 26.95) projected
  arc A1 (-33.55, 26.95) -> (-31.45, 26.95) centre (-32.5, 26.95) ccw projected
  line L5 (-33.55, 32.05) -> (-33.55, 26.95) projected
  arc A2 (-31.45, 32.05) -> (-33.55, 32.05) centre (-32.5, 32.05) ccw projected
  line L6 (19.95, 32.05) -> (-31.45, 32.05) projected
  arc A3 (22.05, 32.05) -> (19.95, 32.05) centre (21, 32.05) ccw projected
  line L7 (22.05, 26.95) -> (22.05, 32.05) projected
  line L8 (21.2982, 44) -> (34.75, -5)
  line L9 (34.75, -5) -> (51.8772, -5)
  line L10 (51.8772, -5) -> (51.8772, 44)
  line L11 (51.8772, 44) -> (21.2982, 44)
  arc A4 (-31.5013, 32) -> (-33.5, 32.05) centre (-32.5, 32.05) ccw construction
  line L12 (-33.5, 32.05) -> (-33.5, 26.95) construction
  arc A5 (-33.5, 26.95) -> (-31.5013, 27) centre (-32.5, 26.95) ccw construction
  line L13 (-31.5013, 27) -> (20.0013, 27) construction
  arc A6 (20.0013, 27) -> (22, 26.95) centre (21, 26.95) ccw construction
  line L14 (22, 26.95) -> (22, 32.05) construction
  arc A7 (22, 32.05) -> (20.0013, 32) centre (21, 32.05) ccw construction
  line L15 (20.0013, 32) -> (-31.5013, 32) construction
  line L16 (20.0013, 32) -> (22, 32) construction
  circle A8 centre (22, 32) radius 2.5 construction
  line L17 (-45.3386, 23) -> (23.9522, 23) construction
  line L18 (23.9522, 23) -> (30.8154, -2) construction
  line L19 (30.8154, -2) -> (-32.3386, -2) construction
  line L20 (-32.3386, -2) -> (-45.3386, 23) construction
  line L21 (-45.3386, 23) -> (30.8154, -2) construction
  line L22 (-44.3487, 21.0963) -> (26.0063, -2)
  line L23 (26.0063, -2) -> (-32.3386, -2)
  line L24 (-32.3386, -2) -> (-44.3487, 21.0963)
  line L25 (-40.5295, 23) -> (23.9522, 23)
  line L26 (23.9522, 23) -> (30.3391, -0.2649)
  line L27 (30.3391, -0.2649) -> (-40.5295, 23)
  circle A9 centre (-51, 19) radius 2.25 construction
  circle A10 centre (-51, 19) radius 2.25 construction
  circle A11 centre (-51, 35) radius 2.25 construction
  circle A12 centre (-51, 35) radius 2.25 construction
  line L28 (-51, 19) -> (-51, 35) construction
  circle A13 centre (-51, 27) radius 3
  circle A14 centre (-51, 27) radius 4.5 construction
  point P0 (0, 0)
  dimension "d227" = 0.05
  dimension "d228" = 5
  dimension "d229" = 2
  dimension "d230" = 3
  dimension "d231" = 3
  dimension "d232" = 4
  dimension "d233" = 3
  dimension "d234" = 1.5
  dimension "d235" = 1.5
extrude "押し出し7" cut sketch "スケッチ11" against normal blind 5 contours L11 L10 L9 L8 | L22 L23 L24 | L25 L26 L27 | A13
fillet "フィレット4" radius 2 6 edges at (44.3487, 21.0963, 3.5) (-23.9522, 23, 3.5) (-30.3391, -0.2649, 3.5) (-26.0063, -2, 3.5) (40.5295, 23, 3.5) (32.3386, -2, 3.5)
sketch "スケッチ12" plane through (25, -13, 0) normal (-1, 0, 0) x (0, 0, 1)
  line L0 (0, 1.5151) -> (5, 1.5151) projected
  line L1 (0, 0) -> (5, 0)
  line L2 (5, 0) -> (5, 1.5151)
  line L3 (5, 1.5151) -> (0, 1.5151)
  line L4 (0, 1.5151) -> (0, 0)
  point P0 (0, 13)
extrude "押し出し8" cut sketch "スケッチ12" against normal blind 0.01
equation "\"d91\" = d54"
equation "\"d72\" = d69_1"
equation "\"d54\" = 59.75"
equation "\"d69_1\" = 51.75"
properties part number "胴体_サブフレーム_1_1" material "アルミニウム 2014-T4"
